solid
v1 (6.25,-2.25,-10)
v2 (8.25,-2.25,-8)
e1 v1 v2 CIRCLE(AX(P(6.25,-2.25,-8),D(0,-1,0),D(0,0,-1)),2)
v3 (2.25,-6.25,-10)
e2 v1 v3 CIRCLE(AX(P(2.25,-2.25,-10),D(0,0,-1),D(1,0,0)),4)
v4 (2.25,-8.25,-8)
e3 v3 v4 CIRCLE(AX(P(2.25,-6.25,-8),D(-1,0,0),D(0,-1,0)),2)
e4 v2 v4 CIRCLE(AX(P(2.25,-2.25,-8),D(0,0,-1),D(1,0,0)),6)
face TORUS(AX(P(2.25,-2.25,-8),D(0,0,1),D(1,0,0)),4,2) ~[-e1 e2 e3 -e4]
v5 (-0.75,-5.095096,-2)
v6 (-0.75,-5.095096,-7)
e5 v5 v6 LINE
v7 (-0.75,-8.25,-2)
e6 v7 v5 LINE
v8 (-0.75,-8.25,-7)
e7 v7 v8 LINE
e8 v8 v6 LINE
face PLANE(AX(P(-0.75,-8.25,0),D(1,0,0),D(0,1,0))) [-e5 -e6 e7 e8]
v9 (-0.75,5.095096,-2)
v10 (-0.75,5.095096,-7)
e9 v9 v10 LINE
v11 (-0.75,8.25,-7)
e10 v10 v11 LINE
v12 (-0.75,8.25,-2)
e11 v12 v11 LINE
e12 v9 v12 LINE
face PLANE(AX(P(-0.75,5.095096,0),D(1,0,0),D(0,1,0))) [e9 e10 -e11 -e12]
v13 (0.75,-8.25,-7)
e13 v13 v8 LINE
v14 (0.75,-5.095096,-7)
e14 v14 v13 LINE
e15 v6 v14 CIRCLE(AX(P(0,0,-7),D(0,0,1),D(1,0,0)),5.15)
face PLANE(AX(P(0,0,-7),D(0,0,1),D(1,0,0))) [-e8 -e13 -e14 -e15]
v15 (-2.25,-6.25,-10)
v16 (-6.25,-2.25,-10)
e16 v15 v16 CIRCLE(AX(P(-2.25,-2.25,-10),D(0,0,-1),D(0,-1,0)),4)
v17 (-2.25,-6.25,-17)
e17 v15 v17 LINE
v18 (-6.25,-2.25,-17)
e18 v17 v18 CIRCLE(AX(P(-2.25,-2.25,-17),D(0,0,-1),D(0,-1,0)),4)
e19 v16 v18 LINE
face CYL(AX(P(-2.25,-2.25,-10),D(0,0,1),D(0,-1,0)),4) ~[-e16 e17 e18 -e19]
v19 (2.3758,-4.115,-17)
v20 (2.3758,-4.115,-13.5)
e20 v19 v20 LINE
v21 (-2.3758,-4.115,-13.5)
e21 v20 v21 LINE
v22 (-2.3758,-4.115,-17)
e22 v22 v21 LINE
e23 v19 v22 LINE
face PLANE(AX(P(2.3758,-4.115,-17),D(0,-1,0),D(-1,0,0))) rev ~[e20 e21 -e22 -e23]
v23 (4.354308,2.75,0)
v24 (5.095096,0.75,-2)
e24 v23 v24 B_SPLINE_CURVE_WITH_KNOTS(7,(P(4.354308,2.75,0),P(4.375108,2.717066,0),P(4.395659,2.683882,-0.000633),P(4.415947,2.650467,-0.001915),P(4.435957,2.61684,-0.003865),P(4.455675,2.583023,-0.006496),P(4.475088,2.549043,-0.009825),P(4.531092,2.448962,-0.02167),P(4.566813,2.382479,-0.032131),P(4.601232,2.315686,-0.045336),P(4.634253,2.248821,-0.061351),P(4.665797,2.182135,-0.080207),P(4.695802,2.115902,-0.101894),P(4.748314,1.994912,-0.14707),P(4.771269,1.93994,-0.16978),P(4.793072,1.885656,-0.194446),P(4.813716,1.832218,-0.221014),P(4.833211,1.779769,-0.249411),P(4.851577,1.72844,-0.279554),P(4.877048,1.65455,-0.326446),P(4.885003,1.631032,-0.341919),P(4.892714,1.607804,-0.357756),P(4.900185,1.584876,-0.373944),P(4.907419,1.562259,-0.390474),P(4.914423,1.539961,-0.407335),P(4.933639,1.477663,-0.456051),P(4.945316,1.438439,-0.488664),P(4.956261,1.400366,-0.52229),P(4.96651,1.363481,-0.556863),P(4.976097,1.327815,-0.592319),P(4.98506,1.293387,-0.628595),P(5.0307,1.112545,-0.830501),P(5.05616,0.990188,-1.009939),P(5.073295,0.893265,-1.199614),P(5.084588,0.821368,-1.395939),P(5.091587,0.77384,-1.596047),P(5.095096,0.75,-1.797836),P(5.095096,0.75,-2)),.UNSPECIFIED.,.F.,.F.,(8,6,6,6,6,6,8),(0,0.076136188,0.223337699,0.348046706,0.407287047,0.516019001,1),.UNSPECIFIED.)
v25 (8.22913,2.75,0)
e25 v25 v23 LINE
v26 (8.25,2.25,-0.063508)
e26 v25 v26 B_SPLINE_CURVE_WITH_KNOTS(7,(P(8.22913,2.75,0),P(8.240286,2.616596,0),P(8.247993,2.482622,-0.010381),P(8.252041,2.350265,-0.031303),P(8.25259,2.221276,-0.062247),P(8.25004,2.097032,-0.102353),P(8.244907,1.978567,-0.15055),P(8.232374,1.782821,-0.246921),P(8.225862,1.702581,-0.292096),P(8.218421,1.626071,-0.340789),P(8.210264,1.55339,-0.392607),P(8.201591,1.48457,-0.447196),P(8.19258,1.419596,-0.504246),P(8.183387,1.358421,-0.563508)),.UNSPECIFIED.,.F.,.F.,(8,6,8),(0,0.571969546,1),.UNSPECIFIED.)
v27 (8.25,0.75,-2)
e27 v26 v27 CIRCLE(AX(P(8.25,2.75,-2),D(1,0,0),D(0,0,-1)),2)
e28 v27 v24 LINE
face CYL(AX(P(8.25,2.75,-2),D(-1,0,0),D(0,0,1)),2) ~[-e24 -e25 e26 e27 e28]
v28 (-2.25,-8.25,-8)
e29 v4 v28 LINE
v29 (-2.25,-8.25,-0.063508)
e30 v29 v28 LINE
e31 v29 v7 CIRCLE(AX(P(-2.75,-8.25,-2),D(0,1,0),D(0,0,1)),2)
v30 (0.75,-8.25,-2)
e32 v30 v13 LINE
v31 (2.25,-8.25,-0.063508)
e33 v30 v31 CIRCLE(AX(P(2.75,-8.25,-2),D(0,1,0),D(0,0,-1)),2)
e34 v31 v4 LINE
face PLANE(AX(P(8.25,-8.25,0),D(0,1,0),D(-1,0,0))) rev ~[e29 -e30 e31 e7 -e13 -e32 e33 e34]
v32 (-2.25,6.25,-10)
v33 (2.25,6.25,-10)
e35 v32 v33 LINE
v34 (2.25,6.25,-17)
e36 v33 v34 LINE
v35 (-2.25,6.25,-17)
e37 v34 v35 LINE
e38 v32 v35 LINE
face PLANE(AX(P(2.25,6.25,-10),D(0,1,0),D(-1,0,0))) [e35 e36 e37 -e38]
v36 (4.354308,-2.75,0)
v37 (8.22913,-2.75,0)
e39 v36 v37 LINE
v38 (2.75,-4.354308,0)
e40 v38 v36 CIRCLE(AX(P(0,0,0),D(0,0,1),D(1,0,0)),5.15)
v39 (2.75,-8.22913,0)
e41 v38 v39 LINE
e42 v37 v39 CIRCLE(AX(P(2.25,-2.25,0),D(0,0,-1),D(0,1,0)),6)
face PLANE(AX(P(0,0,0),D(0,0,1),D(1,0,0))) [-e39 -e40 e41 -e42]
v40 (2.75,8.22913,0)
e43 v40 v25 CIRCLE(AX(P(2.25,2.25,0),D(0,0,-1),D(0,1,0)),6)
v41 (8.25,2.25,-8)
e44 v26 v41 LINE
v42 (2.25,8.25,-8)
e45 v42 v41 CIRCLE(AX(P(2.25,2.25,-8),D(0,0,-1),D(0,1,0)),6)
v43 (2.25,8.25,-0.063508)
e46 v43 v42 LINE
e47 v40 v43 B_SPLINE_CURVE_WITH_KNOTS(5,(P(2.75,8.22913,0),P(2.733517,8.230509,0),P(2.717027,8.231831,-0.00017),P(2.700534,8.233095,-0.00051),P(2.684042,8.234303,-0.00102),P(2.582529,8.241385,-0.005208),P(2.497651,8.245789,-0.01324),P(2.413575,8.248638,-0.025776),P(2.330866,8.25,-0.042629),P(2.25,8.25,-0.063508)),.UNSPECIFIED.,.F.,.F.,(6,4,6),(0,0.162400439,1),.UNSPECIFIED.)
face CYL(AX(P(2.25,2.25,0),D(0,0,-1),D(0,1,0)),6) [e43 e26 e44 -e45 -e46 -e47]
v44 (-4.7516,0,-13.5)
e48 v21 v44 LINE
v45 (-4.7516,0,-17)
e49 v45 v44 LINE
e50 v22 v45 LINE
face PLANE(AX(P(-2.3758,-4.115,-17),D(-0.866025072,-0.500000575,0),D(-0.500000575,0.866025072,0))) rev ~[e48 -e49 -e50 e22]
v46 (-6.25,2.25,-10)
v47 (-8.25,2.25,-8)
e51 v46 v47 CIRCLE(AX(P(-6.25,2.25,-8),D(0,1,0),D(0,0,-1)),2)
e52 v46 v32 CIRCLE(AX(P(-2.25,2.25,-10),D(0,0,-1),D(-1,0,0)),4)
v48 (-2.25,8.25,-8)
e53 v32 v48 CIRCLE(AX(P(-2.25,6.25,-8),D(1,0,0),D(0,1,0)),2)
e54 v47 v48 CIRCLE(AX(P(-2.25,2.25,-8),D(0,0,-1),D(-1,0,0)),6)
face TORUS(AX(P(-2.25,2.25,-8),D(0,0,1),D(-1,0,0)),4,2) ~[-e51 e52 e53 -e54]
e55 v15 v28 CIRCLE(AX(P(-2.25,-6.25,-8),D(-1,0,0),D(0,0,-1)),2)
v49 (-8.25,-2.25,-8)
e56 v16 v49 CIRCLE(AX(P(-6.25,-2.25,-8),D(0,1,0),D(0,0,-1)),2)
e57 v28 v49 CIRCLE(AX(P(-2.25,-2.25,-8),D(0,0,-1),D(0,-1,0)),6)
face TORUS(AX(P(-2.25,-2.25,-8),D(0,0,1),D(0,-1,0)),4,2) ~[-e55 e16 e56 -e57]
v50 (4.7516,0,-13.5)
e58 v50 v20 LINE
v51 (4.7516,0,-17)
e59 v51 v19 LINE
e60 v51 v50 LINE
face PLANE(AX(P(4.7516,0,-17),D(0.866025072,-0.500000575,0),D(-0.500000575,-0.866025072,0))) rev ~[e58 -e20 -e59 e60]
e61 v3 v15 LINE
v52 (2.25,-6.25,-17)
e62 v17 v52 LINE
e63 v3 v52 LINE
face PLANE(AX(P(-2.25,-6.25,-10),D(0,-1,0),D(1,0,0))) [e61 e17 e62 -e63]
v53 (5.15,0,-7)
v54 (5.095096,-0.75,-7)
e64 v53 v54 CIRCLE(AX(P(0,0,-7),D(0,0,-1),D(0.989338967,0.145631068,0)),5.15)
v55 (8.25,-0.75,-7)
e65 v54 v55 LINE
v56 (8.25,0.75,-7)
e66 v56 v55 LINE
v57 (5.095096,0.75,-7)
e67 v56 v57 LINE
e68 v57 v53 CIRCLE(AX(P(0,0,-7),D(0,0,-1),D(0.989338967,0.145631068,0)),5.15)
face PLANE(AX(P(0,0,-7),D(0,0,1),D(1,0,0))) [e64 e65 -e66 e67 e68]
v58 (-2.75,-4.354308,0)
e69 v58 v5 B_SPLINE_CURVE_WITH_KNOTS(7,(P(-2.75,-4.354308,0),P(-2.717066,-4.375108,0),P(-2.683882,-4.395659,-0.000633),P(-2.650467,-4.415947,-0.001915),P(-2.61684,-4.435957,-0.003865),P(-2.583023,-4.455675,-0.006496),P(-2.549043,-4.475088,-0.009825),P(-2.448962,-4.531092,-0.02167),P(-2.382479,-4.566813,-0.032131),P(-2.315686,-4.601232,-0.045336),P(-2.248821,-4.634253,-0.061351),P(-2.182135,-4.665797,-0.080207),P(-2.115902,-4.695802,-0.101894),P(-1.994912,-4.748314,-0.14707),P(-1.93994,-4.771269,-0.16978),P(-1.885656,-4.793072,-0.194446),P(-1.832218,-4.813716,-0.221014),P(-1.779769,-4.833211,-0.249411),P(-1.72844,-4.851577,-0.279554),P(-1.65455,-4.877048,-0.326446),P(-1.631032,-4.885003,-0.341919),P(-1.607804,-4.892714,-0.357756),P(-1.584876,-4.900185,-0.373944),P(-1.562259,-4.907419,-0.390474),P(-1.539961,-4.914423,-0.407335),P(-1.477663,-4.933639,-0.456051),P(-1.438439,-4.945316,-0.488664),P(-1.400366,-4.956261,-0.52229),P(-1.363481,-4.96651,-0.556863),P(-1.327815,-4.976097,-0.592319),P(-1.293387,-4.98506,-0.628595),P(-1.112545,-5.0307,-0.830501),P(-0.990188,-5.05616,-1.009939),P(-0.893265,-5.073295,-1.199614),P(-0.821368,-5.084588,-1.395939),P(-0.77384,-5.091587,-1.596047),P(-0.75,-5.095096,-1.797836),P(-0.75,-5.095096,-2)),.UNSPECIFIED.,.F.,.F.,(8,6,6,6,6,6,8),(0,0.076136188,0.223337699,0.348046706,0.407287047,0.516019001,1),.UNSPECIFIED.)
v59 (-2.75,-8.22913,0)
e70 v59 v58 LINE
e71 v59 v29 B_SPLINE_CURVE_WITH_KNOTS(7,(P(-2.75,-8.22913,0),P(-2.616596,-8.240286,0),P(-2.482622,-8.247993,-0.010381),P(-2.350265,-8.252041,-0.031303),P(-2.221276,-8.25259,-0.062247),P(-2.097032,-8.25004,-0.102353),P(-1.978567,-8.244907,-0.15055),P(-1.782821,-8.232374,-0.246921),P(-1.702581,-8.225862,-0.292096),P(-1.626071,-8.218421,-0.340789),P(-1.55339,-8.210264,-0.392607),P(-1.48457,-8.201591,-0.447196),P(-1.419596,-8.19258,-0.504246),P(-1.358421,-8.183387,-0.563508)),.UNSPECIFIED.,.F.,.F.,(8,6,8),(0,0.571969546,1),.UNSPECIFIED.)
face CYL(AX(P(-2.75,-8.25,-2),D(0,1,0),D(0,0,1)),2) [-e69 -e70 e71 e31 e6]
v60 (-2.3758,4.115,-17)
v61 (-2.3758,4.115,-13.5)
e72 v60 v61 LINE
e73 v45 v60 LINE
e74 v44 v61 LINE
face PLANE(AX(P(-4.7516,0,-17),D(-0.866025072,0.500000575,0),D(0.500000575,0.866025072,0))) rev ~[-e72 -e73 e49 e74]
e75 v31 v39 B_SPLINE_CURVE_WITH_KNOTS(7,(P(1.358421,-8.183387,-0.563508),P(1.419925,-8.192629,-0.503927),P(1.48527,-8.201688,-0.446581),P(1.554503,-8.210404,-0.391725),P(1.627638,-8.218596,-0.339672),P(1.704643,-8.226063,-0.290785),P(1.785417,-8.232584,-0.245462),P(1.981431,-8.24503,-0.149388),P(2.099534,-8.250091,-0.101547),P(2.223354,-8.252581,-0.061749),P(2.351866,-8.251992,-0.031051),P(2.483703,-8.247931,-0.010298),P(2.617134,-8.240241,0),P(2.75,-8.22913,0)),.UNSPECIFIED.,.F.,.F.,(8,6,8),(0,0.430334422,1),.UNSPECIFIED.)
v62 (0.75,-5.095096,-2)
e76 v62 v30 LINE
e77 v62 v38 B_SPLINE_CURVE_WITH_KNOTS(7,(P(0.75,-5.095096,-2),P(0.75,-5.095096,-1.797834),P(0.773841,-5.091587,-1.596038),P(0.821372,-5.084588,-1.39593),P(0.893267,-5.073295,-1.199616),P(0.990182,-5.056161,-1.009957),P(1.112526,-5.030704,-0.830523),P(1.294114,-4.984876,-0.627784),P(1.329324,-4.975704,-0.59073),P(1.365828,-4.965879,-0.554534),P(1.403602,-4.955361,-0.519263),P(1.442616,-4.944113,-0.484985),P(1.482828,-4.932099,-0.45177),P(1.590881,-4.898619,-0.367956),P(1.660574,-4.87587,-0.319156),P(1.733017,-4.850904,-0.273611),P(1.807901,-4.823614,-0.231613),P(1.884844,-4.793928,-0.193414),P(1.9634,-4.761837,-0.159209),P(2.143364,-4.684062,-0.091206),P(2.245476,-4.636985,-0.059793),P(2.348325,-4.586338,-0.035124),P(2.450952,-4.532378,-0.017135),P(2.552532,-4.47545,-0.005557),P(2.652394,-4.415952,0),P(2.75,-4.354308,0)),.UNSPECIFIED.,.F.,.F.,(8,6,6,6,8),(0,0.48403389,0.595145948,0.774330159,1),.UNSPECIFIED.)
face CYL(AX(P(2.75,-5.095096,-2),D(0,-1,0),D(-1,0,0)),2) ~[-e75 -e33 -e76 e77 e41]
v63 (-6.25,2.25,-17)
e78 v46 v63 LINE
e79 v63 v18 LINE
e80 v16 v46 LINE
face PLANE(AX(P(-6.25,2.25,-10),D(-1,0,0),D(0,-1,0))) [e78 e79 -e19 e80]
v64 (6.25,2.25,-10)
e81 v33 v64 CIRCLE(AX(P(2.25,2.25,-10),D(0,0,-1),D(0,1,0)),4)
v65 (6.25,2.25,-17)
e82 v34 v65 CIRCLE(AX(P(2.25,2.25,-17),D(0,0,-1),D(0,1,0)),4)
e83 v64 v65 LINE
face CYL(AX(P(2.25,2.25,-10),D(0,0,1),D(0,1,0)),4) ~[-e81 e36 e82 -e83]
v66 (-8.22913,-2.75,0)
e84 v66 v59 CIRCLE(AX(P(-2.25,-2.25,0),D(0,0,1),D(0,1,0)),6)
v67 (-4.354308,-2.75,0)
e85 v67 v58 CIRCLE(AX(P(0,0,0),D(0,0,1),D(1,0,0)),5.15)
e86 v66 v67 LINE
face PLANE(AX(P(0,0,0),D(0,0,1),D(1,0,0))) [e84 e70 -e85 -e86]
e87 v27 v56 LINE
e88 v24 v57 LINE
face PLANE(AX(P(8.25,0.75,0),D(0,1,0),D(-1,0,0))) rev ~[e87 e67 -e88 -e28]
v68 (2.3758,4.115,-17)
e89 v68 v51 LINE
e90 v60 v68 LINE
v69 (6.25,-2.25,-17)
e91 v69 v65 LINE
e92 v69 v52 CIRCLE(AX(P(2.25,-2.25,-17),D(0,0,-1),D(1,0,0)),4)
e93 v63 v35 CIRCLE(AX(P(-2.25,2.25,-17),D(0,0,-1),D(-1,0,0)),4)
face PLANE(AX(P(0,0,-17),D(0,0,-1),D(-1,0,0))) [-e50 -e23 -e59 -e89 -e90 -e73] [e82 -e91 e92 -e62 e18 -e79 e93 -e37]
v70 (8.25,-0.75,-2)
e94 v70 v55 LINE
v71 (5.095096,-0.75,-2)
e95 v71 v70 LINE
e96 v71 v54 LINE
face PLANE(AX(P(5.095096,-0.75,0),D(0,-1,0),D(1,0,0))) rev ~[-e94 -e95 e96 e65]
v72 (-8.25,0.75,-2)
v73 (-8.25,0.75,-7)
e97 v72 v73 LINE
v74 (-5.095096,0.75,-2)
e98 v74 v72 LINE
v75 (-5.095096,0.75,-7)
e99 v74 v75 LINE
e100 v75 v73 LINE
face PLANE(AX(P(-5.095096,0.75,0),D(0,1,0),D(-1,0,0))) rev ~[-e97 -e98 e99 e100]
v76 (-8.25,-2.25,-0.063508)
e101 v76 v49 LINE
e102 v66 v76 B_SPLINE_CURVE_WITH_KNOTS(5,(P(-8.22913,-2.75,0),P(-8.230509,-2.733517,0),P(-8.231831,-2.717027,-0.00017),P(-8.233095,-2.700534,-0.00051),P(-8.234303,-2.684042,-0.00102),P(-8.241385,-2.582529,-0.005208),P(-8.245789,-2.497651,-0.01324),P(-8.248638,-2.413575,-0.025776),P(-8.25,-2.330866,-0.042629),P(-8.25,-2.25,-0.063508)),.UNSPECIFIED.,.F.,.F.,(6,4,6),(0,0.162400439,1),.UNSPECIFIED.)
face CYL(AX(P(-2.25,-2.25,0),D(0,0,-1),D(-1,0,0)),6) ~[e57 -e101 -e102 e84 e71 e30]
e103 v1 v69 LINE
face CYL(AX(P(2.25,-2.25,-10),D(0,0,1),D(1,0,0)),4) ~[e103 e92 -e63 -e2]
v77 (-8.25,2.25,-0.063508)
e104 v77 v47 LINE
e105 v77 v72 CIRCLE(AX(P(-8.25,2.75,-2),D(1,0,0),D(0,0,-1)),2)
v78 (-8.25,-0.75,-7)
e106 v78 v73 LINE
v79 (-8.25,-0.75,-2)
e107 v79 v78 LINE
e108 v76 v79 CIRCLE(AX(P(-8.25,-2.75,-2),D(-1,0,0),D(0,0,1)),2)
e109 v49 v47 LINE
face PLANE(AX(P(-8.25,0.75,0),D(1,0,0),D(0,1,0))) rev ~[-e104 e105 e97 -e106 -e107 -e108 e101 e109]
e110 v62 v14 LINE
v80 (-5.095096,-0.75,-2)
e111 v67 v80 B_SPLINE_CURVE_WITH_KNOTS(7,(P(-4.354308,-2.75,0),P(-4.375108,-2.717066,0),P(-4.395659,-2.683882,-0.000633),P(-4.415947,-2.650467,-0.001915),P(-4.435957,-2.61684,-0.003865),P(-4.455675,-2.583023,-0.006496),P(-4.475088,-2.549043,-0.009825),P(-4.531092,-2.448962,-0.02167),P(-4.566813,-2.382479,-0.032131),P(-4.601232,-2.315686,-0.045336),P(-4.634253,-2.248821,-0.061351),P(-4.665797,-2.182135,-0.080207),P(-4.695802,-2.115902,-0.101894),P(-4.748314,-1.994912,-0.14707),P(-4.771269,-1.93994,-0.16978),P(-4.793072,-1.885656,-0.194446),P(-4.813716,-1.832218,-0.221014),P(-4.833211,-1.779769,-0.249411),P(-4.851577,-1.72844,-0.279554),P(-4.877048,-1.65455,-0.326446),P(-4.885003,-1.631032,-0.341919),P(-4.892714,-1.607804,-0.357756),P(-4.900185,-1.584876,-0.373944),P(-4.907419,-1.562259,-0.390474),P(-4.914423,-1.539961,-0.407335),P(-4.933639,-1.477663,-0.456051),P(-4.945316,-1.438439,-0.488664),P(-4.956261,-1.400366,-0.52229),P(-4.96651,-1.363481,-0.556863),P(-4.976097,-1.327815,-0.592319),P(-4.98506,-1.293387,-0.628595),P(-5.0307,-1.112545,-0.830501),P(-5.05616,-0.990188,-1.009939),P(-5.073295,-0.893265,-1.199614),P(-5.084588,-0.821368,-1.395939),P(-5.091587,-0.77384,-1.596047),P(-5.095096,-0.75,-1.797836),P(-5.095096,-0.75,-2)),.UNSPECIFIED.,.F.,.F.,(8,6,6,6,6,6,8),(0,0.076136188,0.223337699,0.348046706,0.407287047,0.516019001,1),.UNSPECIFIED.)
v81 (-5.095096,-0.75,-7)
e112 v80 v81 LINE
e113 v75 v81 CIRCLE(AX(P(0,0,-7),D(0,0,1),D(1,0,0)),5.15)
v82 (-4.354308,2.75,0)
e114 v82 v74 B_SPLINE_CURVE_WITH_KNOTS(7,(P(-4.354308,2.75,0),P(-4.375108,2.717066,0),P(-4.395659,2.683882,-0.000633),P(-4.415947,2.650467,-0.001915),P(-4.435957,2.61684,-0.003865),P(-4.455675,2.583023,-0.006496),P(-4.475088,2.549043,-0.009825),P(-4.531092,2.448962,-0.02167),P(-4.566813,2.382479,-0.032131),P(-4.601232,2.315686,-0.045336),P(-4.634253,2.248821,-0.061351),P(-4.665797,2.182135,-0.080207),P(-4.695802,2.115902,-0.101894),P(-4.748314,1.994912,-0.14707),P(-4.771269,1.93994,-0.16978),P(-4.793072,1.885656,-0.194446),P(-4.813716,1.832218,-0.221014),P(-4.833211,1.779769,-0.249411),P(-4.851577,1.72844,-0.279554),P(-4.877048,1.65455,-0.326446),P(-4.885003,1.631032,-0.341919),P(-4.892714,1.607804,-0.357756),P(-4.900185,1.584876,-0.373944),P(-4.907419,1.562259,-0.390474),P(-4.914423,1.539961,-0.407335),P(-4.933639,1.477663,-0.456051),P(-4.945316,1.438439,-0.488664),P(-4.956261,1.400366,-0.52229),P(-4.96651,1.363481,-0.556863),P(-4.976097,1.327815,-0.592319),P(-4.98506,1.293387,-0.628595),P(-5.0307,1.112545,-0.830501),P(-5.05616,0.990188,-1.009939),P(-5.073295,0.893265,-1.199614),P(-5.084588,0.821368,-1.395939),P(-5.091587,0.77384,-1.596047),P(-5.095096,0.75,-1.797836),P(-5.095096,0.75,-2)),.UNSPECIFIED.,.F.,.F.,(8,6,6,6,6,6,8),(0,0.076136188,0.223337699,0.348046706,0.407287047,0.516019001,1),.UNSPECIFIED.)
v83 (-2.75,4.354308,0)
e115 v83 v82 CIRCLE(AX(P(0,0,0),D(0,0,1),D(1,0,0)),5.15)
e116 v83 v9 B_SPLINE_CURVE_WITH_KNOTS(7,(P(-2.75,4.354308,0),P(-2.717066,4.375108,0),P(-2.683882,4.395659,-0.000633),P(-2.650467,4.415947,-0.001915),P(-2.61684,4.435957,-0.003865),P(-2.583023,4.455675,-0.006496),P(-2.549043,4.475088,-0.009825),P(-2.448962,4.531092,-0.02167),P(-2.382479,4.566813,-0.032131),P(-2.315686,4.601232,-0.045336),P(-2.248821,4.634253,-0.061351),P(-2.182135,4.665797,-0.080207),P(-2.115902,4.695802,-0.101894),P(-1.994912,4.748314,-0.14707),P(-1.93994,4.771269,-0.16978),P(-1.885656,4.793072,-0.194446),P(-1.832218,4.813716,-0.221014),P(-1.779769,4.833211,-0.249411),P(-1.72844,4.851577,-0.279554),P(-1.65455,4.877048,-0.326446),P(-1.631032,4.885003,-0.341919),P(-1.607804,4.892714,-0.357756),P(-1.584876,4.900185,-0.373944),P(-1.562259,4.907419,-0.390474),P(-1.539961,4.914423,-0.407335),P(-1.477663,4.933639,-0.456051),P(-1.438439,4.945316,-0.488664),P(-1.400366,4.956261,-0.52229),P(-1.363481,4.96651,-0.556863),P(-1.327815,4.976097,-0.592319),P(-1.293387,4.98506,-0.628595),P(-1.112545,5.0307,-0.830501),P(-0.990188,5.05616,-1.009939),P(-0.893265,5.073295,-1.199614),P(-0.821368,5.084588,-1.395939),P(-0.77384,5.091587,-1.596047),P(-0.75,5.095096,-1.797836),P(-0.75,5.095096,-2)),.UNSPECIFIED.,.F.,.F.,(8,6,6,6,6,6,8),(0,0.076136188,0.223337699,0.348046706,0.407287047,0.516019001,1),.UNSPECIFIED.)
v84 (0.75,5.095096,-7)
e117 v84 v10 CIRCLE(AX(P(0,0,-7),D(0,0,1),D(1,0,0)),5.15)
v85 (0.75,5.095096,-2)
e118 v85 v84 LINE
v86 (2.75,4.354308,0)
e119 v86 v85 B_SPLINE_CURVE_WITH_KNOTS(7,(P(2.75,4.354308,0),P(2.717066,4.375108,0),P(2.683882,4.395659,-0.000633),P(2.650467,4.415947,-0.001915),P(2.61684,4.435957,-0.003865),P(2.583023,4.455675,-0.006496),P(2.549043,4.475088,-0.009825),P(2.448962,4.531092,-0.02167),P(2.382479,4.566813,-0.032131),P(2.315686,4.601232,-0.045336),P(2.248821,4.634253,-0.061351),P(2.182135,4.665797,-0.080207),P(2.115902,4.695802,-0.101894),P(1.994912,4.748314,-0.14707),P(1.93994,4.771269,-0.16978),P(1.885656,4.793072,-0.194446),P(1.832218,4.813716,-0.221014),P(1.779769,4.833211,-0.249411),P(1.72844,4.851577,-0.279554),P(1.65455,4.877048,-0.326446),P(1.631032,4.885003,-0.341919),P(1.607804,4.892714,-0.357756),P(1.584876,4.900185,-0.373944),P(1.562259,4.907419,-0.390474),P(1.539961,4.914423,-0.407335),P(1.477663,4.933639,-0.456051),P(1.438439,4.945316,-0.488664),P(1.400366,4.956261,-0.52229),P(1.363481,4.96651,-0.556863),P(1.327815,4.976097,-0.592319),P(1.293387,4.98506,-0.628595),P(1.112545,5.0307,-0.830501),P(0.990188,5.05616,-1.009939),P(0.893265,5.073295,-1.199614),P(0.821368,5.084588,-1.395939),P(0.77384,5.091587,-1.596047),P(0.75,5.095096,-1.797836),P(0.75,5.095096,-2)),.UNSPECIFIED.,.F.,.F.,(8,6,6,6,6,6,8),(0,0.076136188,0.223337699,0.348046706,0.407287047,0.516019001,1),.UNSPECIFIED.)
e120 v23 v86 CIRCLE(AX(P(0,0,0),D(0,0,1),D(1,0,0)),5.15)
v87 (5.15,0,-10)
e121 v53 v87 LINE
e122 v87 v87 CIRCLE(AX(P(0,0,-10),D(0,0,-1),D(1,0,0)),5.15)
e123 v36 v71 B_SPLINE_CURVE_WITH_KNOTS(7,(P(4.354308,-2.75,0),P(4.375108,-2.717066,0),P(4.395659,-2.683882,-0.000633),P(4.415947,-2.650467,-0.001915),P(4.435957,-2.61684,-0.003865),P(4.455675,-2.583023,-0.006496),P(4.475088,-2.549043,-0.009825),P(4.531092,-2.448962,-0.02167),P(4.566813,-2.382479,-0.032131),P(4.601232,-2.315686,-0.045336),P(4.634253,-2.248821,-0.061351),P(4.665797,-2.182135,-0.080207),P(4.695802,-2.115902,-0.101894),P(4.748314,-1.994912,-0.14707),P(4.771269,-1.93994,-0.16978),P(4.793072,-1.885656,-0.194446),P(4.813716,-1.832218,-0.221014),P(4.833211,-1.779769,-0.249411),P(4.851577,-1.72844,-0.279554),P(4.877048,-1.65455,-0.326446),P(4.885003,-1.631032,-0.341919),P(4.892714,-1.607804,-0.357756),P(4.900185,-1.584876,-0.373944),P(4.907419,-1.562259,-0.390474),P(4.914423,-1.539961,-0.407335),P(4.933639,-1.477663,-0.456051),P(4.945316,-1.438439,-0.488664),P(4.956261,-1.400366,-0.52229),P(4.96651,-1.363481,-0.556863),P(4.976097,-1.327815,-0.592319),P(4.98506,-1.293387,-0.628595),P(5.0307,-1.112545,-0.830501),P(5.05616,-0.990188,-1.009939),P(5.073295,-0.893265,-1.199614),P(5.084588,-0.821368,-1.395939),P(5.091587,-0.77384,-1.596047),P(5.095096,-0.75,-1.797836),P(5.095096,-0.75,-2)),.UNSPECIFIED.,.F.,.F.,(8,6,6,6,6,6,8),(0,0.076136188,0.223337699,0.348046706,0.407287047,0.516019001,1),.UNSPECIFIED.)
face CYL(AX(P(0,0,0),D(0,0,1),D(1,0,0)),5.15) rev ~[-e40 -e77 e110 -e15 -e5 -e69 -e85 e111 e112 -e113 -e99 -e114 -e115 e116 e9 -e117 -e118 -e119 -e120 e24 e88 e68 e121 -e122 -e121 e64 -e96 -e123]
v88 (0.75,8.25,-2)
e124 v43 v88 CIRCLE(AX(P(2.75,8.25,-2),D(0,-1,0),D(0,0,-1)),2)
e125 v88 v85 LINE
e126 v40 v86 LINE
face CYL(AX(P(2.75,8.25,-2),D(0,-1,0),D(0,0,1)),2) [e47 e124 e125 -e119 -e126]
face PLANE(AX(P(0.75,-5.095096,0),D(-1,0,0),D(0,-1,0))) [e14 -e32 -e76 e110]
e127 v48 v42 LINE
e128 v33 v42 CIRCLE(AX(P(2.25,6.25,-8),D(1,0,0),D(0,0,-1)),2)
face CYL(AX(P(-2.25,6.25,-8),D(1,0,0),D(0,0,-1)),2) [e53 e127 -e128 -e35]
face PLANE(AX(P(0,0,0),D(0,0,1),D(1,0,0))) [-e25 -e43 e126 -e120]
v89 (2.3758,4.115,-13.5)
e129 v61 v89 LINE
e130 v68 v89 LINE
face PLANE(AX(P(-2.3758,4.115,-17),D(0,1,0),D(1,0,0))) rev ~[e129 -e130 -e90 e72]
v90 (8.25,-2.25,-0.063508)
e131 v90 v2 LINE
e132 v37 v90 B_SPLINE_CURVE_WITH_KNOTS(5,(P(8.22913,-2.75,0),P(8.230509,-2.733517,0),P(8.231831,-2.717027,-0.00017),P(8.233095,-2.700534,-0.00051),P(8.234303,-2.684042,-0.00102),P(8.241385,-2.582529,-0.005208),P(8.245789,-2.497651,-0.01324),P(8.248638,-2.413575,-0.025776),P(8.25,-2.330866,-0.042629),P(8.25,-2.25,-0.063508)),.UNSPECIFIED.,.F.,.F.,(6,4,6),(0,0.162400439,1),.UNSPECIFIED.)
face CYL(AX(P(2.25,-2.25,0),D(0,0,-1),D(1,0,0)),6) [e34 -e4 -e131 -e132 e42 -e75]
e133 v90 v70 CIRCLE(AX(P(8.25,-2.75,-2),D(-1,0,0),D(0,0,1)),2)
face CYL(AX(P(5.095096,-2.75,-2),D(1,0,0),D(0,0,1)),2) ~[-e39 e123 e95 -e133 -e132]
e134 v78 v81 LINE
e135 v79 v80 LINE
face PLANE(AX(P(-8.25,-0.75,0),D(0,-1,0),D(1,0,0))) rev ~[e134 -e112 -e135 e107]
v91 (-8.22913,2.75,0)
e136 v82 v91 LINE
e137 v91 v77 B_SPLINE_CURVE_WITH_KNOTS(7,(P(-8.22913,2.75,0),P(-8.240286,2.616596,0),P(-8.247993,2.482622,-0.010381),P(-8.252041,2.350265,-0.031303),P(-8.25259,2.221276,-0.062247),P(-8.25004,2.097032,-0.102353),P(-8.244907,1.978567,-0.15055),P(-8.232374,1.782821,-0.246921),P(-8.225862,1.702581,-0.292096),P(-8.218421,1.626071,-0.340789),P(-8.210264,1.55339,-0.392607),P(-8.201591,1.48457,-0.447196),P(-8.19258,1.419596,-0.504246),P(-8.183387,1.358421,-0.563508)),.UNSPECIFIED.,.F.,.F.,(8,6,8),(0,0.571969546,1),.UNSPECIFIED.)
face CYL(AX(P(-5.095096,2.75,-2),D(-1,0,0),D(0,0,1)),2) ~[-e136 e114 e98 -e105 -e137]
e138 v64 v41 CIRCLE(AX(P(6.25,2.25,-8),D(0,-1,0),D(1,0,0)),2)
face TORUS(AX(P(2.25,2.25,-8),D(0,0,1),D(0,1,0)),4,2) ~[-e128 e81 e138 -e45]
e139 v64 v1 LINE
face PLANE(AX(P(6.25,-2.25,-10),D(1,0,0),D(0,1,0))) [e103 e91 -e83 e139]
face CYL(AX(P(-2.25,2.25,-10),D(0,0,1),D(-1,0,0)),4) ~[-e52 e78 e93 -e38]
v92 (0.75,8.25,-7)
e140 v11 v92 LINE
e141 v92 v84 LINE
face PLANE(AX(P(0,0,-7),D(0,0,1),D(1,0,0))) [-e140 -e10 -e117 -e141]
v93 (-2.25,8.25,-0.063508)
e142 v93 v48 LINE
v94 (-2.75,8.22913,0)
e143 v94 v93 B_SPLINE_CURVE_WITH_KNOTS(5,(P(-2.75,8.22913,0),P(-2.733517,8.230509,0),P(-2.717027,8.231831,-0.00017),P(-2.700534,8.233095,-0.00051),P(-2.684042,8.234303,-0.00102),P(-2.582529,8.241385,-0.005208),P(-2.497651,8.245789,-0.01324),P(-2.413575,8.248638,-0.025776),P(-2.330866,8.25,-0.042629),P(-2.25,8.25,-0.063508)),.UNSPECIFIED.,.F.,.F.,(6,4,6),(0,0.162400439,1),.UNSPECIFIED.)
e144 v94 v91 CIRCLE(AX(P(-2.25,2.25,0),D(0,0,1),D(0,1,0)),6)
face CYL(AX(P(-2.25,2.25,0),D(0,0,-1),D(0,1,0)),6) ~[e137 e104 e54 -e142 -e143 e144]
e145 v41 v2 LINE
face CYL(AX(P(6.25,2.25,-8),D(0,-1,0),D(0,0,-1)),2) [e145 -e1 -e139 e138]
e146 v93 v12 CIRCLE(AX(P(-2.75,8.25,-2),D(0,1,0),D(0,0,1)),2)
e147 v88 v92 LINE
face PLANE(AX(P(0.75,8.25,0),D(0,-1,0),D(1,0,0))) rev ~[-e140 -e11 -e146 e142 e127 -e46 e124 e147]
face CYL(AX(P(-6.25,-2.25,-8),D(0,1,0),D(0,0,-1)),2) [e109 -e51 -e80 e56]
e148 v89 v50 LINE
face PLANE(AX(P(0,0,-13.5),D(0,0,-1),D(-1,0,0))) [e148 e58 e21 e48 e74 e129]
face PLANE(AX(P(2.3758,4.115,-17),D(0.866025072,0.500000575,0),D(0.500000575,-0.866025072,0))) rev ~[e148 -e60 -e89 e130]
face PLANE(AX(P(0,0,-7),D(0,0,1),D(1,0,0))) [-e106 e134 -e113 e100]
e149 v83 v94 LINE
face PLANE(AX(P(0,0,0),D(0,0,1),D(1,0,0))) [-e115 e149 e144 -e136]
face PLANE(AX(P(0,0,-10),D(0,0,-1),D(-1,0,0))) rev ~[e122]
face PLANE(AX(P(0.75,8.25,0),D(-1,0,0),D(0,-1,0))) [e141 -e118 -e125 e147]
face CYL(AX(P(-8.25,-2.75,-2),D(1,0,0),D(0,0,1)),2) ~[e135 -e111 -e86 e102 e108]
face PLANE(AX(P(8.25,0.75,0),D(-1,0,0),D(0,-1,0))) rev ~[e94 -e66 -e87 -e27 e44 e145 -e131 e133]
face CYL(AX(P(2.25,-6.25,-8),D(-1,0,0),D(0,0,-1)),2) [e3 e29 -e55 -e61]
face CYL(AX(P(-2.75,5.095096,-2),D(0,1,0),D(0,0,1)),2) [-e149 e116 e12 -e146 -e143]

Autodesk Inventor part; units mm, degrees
ref_plane "YZ Plane" through (0, 0, 0) normal (1, 0, 0) x (0, 1, 0)
ref_plane "XZ Plane" through (0, 0, 0) normal (0, 1, 0) x (-1, 0, 0)
ref_plane "XY Plane" through (0, 0, 0) normal (0, 0, 1) x (1, 0, 0)
sketch "Sketch1" plane through (0, 0, 0) normal (0, 0, 1) x (1, 0, 0)
  circle A0 centre (0, 0) radius 5.15
  line L0 (-8.25, 8.25) -> (8.25, 8.25)
  line L1 (8.25, 8.25) -> (8.25, -8.25)
  line L2 (8.25, -8.25) -> (-8.25, -8.25)
  line L3 (-8.25, -8.25) -> (-8.25, 8.25)
  line L4 (-8.25, 8.25) -> (8.25, -8.25) construction
  line L5 (8.25, 8.25) -> (-8.25, -8.25) construction
  line L6 (0.75, -8.25) -> (-0.75, -8.25)
  line L7 (-0.75, -8.25) -> (-0.75, 8.25)
  line L8 (-0.75, 8.25) -> (0.75, 8.25)
  line L9 (0.75, 8.25) -> (0.75, -8.25)
  line L10 (0.75, -8.25) -> (-0.75, 8.25) construction
  line L11 (-0.75, -8.25) -> (0.75, 8.25) construction
  line L12 (8.25, 0.75) -> (-8.25, 0.75)
  line L13 (-8.25, 0.75) -> (-8.25, -0.75)
  line L14 (-8.25, -0.75) -> (8.25, -0.75)
  line L15 (8.25, -0.75) -> (8.25, 0.75)
  line L16 (8.25, 0.75) -> (-8.25, -0.75) construction
  line L17 (-8.25, 0.75) -> (8.25, -0.75) construction
  point P0 (2.2177, -5.7994)
  point P1 (6.5123, -1.5048)
  point P2 (9.7177, -1.5048)
  point P3 (9.7177, -0.0048)
  point P4 (6.5123, -0.0048)
  point P5 (2.2177, 4.2897)
  point P6 (2.2177, 7.4952)
  point P7 (0.7177, 4.2897)
  point P8 (-3.5768, -0.0048)
  point P9 (-6.7823, -0.0048)
  point P10 (-3.5768, -1.5048)
  point P11 (0.7177, -5.7994)
  point P12 (0.7177, -9.0048)
  point P13 (2.2177, -9.0048)
  point P14 (0.75, -5.0951)
  point P15 (-0.75, -5.0951)
  point P16 (5.0951, -0.75)
  point P17 (5.0951, 0.75)
  point P18 (-5.0951, -0.75)
  point P19 (-5.0951, 0.75)
  point P20 (0.75, 5.0951)
  point P21 (-0.75, 5.0951)
  dimension "d0" = 10.3
  dimension "d1" = 16.5
  dimension "d2" = 1.5
  dimension "d3" = 1.5
  dimension "d4" = 16.5
extrude "face" add sketch "Sketch1" against normal blind 10 contours A0 L12 L1 L14 | A0 L9 L0 L1 L12 | L14 L1 L2 L9 A0 | A0 L7 L0 L9 | L9 L2 L7 A0 | A0 L12 L3 L0 L7 | L7 L2 L3 L14 A0 | A0 L14 L3 L12
extrude "Extrusion2" cut sketch "Sketch1" against normal blind 7 contours A0 L12 L1 L14 | A0 L7 L0 L9 | L9 L2 L7 A0 | A0 L14 L3 L12
fillet "Fillet1" radius 6 4 edges at (-8.25, 8.25, -5) (8.25, -8.25, -5) (8.25, 8.25, -5) (-8.25, -8.25, -5)
fillet "Fillet2" radius 2 8 edges at (-8.25, 0, -10) (-6.4926, -6.4926, -10) (0, -8.25, -10) (6.4926, -6.4926, -10) (8.25, 0, -10) (6.4926, 6.4926, -10) (0, 8.25, -10) (-6.4926, 6.4926, -10)
fillet "Fillet4" radius 2 8 edges at (0.75, -6.6725, 0) (-0.75, -6.6725, 0) (-6.6725, -0.75, 0) (-6.6725, 0.75, 0) (-0.75, 6.6725, 0) (0.75, 6.6725, 0) (6.6725, 0.75, 0) (6.6725, -0.75, 0)
sketch "Sketch6" plane through (0, 0, -10) normal (0, 0, -1) x (-1, 0, 0)
  circle A0 centre (0, 0) radius 5.15 projected
  line L0 (6.25, 2.25) -> (6.25, -2.25) projected
  arc A1 (6.25, 2.25) -> (2.25, 6.25) centre (2.25, 2.25) ccw projected
  line L1 (-2.25, 6.25) -> (2.25, 6.25) projected
  arc A2 (-2.25, 6.25) -> (-6.25, 2.25) centre (-2.25, 2.25) ccw projected
  line L2 (-6.25, -2.25) -> (-6.25, 2.25) projected
  arc A3 (-6.25, -2.25) -> (-2.25, -6.25) centre (-2.25, -2.25) ccw projected
  line L3 (2.25, -6.25) -> (-2.25, -6.25) projected
  arc A4 (2.25, -6.25) -> (6.25, -2.25) centre (2.25, -2.25) ccw projected
extrude "Extrusion9" add sketch "Sketch6" along normal blind 7 contours A0 | L0 A4 L3 A3 L2 A2 L1 A1
sketch "Sketch7" plane through (0, 0, -17) normal (0, 0, -1) x (-1, 0, 0)
  line L0 (4.5207, 0) -> (2.2603, -3.915)
  line L1 (2.2603, -3.915) -> (-2.2603, -3.915)
  line L2 (-2.2603, -3.915) -> (-4.5207, 0)
  line L3 (-4.5207, 0) -> (-2.2603, 3.915)
  line L4 (-2.2603, 3.915) -> (2.2603, 3.915)
  line L5 (2.2603, 3.915) -> (4.5207, 0)
  line L6 (2.3758, -4.115) -> (4.7516, 0)
  line L7 (4.7516, 0) -> (2.3758, 4.115)
  line L8 (2.3758, 4.115) -> (-2.3758, 4.115)
  line L9 (-2.3758, 4.115) -> (-4.7516, 0)
  line L10 (-4.7516, 0) -> (-2.3758, -4.115)
  line L11 (-2.3758, -4.115) -> (2.3758, -4.115)
  circle A0 centre (0, 0) radius 3.5
  dimension "d34" = 7.83
  dimension "d35" = 0.2
  dimension "d38" = 7
extrude "Extrusion10" cut sketch "Sketch7" against normal blind 3.5 contours L0 L1 L2 L3 L4 L5 | L11 L10 L9 L8 L7 L6 | A0
sketch "Sketch8" plane through (0, 0, -10) normal (0, 0, 1) x (1, 0, 0)
  line L0 (4.5207, 0) -> (2.2603, -3.915)
  line L1 (2.2603, -3.915) -> (-2.2603, -3.915)
  line L2 (-2.2603, -3.915) -> (-4.5207, 0)
  line L3 (-4.5207, 0) -> (-2.2603, 3.915)
  line L4 (-2.2603, 3.915) -> (2.2603, 3.915)
  line L5 (2.2603, 3.915) -> (4.5207, 0)
  line L6 (2.4335, -4.215) -> (4.8671, 0)
  line L7 (4.8671, 0) -> (2.4335, 4.215)
  line L8 (2.4335, 4.215) -> (-2.4335, 4.215)
  line L9 (-2.4335, 4.215) -> (-4.8671, 0)
  line L10 (-4.8671, 0) -> (-2.4335, -4.215)
  line L11 (-2.4335, -4.215) -> (2.4335, -4.215)
  circle A0 centre (0, 0) radius 3.5
  dimension "d41" = 7.83
  dimension "d42" = 0.3
  dimension "d43" = 7
extrude "Extrusion12" [suppressed]
sketch "Sketch9" plane through (0, 0, -17) normal (0, 0, -1) x (-1, 0, 0)
  circle A0 centre (0, 0) radius 2.6
  circle A1 centre (0, 0) radius 4
  dimension "d46" = 5.2
  dimension "d47" = 8
extrude "Extrusion13" [suppressed]
extrude "Extrusion14" [suppressed]
properties part number "adapter-02"
